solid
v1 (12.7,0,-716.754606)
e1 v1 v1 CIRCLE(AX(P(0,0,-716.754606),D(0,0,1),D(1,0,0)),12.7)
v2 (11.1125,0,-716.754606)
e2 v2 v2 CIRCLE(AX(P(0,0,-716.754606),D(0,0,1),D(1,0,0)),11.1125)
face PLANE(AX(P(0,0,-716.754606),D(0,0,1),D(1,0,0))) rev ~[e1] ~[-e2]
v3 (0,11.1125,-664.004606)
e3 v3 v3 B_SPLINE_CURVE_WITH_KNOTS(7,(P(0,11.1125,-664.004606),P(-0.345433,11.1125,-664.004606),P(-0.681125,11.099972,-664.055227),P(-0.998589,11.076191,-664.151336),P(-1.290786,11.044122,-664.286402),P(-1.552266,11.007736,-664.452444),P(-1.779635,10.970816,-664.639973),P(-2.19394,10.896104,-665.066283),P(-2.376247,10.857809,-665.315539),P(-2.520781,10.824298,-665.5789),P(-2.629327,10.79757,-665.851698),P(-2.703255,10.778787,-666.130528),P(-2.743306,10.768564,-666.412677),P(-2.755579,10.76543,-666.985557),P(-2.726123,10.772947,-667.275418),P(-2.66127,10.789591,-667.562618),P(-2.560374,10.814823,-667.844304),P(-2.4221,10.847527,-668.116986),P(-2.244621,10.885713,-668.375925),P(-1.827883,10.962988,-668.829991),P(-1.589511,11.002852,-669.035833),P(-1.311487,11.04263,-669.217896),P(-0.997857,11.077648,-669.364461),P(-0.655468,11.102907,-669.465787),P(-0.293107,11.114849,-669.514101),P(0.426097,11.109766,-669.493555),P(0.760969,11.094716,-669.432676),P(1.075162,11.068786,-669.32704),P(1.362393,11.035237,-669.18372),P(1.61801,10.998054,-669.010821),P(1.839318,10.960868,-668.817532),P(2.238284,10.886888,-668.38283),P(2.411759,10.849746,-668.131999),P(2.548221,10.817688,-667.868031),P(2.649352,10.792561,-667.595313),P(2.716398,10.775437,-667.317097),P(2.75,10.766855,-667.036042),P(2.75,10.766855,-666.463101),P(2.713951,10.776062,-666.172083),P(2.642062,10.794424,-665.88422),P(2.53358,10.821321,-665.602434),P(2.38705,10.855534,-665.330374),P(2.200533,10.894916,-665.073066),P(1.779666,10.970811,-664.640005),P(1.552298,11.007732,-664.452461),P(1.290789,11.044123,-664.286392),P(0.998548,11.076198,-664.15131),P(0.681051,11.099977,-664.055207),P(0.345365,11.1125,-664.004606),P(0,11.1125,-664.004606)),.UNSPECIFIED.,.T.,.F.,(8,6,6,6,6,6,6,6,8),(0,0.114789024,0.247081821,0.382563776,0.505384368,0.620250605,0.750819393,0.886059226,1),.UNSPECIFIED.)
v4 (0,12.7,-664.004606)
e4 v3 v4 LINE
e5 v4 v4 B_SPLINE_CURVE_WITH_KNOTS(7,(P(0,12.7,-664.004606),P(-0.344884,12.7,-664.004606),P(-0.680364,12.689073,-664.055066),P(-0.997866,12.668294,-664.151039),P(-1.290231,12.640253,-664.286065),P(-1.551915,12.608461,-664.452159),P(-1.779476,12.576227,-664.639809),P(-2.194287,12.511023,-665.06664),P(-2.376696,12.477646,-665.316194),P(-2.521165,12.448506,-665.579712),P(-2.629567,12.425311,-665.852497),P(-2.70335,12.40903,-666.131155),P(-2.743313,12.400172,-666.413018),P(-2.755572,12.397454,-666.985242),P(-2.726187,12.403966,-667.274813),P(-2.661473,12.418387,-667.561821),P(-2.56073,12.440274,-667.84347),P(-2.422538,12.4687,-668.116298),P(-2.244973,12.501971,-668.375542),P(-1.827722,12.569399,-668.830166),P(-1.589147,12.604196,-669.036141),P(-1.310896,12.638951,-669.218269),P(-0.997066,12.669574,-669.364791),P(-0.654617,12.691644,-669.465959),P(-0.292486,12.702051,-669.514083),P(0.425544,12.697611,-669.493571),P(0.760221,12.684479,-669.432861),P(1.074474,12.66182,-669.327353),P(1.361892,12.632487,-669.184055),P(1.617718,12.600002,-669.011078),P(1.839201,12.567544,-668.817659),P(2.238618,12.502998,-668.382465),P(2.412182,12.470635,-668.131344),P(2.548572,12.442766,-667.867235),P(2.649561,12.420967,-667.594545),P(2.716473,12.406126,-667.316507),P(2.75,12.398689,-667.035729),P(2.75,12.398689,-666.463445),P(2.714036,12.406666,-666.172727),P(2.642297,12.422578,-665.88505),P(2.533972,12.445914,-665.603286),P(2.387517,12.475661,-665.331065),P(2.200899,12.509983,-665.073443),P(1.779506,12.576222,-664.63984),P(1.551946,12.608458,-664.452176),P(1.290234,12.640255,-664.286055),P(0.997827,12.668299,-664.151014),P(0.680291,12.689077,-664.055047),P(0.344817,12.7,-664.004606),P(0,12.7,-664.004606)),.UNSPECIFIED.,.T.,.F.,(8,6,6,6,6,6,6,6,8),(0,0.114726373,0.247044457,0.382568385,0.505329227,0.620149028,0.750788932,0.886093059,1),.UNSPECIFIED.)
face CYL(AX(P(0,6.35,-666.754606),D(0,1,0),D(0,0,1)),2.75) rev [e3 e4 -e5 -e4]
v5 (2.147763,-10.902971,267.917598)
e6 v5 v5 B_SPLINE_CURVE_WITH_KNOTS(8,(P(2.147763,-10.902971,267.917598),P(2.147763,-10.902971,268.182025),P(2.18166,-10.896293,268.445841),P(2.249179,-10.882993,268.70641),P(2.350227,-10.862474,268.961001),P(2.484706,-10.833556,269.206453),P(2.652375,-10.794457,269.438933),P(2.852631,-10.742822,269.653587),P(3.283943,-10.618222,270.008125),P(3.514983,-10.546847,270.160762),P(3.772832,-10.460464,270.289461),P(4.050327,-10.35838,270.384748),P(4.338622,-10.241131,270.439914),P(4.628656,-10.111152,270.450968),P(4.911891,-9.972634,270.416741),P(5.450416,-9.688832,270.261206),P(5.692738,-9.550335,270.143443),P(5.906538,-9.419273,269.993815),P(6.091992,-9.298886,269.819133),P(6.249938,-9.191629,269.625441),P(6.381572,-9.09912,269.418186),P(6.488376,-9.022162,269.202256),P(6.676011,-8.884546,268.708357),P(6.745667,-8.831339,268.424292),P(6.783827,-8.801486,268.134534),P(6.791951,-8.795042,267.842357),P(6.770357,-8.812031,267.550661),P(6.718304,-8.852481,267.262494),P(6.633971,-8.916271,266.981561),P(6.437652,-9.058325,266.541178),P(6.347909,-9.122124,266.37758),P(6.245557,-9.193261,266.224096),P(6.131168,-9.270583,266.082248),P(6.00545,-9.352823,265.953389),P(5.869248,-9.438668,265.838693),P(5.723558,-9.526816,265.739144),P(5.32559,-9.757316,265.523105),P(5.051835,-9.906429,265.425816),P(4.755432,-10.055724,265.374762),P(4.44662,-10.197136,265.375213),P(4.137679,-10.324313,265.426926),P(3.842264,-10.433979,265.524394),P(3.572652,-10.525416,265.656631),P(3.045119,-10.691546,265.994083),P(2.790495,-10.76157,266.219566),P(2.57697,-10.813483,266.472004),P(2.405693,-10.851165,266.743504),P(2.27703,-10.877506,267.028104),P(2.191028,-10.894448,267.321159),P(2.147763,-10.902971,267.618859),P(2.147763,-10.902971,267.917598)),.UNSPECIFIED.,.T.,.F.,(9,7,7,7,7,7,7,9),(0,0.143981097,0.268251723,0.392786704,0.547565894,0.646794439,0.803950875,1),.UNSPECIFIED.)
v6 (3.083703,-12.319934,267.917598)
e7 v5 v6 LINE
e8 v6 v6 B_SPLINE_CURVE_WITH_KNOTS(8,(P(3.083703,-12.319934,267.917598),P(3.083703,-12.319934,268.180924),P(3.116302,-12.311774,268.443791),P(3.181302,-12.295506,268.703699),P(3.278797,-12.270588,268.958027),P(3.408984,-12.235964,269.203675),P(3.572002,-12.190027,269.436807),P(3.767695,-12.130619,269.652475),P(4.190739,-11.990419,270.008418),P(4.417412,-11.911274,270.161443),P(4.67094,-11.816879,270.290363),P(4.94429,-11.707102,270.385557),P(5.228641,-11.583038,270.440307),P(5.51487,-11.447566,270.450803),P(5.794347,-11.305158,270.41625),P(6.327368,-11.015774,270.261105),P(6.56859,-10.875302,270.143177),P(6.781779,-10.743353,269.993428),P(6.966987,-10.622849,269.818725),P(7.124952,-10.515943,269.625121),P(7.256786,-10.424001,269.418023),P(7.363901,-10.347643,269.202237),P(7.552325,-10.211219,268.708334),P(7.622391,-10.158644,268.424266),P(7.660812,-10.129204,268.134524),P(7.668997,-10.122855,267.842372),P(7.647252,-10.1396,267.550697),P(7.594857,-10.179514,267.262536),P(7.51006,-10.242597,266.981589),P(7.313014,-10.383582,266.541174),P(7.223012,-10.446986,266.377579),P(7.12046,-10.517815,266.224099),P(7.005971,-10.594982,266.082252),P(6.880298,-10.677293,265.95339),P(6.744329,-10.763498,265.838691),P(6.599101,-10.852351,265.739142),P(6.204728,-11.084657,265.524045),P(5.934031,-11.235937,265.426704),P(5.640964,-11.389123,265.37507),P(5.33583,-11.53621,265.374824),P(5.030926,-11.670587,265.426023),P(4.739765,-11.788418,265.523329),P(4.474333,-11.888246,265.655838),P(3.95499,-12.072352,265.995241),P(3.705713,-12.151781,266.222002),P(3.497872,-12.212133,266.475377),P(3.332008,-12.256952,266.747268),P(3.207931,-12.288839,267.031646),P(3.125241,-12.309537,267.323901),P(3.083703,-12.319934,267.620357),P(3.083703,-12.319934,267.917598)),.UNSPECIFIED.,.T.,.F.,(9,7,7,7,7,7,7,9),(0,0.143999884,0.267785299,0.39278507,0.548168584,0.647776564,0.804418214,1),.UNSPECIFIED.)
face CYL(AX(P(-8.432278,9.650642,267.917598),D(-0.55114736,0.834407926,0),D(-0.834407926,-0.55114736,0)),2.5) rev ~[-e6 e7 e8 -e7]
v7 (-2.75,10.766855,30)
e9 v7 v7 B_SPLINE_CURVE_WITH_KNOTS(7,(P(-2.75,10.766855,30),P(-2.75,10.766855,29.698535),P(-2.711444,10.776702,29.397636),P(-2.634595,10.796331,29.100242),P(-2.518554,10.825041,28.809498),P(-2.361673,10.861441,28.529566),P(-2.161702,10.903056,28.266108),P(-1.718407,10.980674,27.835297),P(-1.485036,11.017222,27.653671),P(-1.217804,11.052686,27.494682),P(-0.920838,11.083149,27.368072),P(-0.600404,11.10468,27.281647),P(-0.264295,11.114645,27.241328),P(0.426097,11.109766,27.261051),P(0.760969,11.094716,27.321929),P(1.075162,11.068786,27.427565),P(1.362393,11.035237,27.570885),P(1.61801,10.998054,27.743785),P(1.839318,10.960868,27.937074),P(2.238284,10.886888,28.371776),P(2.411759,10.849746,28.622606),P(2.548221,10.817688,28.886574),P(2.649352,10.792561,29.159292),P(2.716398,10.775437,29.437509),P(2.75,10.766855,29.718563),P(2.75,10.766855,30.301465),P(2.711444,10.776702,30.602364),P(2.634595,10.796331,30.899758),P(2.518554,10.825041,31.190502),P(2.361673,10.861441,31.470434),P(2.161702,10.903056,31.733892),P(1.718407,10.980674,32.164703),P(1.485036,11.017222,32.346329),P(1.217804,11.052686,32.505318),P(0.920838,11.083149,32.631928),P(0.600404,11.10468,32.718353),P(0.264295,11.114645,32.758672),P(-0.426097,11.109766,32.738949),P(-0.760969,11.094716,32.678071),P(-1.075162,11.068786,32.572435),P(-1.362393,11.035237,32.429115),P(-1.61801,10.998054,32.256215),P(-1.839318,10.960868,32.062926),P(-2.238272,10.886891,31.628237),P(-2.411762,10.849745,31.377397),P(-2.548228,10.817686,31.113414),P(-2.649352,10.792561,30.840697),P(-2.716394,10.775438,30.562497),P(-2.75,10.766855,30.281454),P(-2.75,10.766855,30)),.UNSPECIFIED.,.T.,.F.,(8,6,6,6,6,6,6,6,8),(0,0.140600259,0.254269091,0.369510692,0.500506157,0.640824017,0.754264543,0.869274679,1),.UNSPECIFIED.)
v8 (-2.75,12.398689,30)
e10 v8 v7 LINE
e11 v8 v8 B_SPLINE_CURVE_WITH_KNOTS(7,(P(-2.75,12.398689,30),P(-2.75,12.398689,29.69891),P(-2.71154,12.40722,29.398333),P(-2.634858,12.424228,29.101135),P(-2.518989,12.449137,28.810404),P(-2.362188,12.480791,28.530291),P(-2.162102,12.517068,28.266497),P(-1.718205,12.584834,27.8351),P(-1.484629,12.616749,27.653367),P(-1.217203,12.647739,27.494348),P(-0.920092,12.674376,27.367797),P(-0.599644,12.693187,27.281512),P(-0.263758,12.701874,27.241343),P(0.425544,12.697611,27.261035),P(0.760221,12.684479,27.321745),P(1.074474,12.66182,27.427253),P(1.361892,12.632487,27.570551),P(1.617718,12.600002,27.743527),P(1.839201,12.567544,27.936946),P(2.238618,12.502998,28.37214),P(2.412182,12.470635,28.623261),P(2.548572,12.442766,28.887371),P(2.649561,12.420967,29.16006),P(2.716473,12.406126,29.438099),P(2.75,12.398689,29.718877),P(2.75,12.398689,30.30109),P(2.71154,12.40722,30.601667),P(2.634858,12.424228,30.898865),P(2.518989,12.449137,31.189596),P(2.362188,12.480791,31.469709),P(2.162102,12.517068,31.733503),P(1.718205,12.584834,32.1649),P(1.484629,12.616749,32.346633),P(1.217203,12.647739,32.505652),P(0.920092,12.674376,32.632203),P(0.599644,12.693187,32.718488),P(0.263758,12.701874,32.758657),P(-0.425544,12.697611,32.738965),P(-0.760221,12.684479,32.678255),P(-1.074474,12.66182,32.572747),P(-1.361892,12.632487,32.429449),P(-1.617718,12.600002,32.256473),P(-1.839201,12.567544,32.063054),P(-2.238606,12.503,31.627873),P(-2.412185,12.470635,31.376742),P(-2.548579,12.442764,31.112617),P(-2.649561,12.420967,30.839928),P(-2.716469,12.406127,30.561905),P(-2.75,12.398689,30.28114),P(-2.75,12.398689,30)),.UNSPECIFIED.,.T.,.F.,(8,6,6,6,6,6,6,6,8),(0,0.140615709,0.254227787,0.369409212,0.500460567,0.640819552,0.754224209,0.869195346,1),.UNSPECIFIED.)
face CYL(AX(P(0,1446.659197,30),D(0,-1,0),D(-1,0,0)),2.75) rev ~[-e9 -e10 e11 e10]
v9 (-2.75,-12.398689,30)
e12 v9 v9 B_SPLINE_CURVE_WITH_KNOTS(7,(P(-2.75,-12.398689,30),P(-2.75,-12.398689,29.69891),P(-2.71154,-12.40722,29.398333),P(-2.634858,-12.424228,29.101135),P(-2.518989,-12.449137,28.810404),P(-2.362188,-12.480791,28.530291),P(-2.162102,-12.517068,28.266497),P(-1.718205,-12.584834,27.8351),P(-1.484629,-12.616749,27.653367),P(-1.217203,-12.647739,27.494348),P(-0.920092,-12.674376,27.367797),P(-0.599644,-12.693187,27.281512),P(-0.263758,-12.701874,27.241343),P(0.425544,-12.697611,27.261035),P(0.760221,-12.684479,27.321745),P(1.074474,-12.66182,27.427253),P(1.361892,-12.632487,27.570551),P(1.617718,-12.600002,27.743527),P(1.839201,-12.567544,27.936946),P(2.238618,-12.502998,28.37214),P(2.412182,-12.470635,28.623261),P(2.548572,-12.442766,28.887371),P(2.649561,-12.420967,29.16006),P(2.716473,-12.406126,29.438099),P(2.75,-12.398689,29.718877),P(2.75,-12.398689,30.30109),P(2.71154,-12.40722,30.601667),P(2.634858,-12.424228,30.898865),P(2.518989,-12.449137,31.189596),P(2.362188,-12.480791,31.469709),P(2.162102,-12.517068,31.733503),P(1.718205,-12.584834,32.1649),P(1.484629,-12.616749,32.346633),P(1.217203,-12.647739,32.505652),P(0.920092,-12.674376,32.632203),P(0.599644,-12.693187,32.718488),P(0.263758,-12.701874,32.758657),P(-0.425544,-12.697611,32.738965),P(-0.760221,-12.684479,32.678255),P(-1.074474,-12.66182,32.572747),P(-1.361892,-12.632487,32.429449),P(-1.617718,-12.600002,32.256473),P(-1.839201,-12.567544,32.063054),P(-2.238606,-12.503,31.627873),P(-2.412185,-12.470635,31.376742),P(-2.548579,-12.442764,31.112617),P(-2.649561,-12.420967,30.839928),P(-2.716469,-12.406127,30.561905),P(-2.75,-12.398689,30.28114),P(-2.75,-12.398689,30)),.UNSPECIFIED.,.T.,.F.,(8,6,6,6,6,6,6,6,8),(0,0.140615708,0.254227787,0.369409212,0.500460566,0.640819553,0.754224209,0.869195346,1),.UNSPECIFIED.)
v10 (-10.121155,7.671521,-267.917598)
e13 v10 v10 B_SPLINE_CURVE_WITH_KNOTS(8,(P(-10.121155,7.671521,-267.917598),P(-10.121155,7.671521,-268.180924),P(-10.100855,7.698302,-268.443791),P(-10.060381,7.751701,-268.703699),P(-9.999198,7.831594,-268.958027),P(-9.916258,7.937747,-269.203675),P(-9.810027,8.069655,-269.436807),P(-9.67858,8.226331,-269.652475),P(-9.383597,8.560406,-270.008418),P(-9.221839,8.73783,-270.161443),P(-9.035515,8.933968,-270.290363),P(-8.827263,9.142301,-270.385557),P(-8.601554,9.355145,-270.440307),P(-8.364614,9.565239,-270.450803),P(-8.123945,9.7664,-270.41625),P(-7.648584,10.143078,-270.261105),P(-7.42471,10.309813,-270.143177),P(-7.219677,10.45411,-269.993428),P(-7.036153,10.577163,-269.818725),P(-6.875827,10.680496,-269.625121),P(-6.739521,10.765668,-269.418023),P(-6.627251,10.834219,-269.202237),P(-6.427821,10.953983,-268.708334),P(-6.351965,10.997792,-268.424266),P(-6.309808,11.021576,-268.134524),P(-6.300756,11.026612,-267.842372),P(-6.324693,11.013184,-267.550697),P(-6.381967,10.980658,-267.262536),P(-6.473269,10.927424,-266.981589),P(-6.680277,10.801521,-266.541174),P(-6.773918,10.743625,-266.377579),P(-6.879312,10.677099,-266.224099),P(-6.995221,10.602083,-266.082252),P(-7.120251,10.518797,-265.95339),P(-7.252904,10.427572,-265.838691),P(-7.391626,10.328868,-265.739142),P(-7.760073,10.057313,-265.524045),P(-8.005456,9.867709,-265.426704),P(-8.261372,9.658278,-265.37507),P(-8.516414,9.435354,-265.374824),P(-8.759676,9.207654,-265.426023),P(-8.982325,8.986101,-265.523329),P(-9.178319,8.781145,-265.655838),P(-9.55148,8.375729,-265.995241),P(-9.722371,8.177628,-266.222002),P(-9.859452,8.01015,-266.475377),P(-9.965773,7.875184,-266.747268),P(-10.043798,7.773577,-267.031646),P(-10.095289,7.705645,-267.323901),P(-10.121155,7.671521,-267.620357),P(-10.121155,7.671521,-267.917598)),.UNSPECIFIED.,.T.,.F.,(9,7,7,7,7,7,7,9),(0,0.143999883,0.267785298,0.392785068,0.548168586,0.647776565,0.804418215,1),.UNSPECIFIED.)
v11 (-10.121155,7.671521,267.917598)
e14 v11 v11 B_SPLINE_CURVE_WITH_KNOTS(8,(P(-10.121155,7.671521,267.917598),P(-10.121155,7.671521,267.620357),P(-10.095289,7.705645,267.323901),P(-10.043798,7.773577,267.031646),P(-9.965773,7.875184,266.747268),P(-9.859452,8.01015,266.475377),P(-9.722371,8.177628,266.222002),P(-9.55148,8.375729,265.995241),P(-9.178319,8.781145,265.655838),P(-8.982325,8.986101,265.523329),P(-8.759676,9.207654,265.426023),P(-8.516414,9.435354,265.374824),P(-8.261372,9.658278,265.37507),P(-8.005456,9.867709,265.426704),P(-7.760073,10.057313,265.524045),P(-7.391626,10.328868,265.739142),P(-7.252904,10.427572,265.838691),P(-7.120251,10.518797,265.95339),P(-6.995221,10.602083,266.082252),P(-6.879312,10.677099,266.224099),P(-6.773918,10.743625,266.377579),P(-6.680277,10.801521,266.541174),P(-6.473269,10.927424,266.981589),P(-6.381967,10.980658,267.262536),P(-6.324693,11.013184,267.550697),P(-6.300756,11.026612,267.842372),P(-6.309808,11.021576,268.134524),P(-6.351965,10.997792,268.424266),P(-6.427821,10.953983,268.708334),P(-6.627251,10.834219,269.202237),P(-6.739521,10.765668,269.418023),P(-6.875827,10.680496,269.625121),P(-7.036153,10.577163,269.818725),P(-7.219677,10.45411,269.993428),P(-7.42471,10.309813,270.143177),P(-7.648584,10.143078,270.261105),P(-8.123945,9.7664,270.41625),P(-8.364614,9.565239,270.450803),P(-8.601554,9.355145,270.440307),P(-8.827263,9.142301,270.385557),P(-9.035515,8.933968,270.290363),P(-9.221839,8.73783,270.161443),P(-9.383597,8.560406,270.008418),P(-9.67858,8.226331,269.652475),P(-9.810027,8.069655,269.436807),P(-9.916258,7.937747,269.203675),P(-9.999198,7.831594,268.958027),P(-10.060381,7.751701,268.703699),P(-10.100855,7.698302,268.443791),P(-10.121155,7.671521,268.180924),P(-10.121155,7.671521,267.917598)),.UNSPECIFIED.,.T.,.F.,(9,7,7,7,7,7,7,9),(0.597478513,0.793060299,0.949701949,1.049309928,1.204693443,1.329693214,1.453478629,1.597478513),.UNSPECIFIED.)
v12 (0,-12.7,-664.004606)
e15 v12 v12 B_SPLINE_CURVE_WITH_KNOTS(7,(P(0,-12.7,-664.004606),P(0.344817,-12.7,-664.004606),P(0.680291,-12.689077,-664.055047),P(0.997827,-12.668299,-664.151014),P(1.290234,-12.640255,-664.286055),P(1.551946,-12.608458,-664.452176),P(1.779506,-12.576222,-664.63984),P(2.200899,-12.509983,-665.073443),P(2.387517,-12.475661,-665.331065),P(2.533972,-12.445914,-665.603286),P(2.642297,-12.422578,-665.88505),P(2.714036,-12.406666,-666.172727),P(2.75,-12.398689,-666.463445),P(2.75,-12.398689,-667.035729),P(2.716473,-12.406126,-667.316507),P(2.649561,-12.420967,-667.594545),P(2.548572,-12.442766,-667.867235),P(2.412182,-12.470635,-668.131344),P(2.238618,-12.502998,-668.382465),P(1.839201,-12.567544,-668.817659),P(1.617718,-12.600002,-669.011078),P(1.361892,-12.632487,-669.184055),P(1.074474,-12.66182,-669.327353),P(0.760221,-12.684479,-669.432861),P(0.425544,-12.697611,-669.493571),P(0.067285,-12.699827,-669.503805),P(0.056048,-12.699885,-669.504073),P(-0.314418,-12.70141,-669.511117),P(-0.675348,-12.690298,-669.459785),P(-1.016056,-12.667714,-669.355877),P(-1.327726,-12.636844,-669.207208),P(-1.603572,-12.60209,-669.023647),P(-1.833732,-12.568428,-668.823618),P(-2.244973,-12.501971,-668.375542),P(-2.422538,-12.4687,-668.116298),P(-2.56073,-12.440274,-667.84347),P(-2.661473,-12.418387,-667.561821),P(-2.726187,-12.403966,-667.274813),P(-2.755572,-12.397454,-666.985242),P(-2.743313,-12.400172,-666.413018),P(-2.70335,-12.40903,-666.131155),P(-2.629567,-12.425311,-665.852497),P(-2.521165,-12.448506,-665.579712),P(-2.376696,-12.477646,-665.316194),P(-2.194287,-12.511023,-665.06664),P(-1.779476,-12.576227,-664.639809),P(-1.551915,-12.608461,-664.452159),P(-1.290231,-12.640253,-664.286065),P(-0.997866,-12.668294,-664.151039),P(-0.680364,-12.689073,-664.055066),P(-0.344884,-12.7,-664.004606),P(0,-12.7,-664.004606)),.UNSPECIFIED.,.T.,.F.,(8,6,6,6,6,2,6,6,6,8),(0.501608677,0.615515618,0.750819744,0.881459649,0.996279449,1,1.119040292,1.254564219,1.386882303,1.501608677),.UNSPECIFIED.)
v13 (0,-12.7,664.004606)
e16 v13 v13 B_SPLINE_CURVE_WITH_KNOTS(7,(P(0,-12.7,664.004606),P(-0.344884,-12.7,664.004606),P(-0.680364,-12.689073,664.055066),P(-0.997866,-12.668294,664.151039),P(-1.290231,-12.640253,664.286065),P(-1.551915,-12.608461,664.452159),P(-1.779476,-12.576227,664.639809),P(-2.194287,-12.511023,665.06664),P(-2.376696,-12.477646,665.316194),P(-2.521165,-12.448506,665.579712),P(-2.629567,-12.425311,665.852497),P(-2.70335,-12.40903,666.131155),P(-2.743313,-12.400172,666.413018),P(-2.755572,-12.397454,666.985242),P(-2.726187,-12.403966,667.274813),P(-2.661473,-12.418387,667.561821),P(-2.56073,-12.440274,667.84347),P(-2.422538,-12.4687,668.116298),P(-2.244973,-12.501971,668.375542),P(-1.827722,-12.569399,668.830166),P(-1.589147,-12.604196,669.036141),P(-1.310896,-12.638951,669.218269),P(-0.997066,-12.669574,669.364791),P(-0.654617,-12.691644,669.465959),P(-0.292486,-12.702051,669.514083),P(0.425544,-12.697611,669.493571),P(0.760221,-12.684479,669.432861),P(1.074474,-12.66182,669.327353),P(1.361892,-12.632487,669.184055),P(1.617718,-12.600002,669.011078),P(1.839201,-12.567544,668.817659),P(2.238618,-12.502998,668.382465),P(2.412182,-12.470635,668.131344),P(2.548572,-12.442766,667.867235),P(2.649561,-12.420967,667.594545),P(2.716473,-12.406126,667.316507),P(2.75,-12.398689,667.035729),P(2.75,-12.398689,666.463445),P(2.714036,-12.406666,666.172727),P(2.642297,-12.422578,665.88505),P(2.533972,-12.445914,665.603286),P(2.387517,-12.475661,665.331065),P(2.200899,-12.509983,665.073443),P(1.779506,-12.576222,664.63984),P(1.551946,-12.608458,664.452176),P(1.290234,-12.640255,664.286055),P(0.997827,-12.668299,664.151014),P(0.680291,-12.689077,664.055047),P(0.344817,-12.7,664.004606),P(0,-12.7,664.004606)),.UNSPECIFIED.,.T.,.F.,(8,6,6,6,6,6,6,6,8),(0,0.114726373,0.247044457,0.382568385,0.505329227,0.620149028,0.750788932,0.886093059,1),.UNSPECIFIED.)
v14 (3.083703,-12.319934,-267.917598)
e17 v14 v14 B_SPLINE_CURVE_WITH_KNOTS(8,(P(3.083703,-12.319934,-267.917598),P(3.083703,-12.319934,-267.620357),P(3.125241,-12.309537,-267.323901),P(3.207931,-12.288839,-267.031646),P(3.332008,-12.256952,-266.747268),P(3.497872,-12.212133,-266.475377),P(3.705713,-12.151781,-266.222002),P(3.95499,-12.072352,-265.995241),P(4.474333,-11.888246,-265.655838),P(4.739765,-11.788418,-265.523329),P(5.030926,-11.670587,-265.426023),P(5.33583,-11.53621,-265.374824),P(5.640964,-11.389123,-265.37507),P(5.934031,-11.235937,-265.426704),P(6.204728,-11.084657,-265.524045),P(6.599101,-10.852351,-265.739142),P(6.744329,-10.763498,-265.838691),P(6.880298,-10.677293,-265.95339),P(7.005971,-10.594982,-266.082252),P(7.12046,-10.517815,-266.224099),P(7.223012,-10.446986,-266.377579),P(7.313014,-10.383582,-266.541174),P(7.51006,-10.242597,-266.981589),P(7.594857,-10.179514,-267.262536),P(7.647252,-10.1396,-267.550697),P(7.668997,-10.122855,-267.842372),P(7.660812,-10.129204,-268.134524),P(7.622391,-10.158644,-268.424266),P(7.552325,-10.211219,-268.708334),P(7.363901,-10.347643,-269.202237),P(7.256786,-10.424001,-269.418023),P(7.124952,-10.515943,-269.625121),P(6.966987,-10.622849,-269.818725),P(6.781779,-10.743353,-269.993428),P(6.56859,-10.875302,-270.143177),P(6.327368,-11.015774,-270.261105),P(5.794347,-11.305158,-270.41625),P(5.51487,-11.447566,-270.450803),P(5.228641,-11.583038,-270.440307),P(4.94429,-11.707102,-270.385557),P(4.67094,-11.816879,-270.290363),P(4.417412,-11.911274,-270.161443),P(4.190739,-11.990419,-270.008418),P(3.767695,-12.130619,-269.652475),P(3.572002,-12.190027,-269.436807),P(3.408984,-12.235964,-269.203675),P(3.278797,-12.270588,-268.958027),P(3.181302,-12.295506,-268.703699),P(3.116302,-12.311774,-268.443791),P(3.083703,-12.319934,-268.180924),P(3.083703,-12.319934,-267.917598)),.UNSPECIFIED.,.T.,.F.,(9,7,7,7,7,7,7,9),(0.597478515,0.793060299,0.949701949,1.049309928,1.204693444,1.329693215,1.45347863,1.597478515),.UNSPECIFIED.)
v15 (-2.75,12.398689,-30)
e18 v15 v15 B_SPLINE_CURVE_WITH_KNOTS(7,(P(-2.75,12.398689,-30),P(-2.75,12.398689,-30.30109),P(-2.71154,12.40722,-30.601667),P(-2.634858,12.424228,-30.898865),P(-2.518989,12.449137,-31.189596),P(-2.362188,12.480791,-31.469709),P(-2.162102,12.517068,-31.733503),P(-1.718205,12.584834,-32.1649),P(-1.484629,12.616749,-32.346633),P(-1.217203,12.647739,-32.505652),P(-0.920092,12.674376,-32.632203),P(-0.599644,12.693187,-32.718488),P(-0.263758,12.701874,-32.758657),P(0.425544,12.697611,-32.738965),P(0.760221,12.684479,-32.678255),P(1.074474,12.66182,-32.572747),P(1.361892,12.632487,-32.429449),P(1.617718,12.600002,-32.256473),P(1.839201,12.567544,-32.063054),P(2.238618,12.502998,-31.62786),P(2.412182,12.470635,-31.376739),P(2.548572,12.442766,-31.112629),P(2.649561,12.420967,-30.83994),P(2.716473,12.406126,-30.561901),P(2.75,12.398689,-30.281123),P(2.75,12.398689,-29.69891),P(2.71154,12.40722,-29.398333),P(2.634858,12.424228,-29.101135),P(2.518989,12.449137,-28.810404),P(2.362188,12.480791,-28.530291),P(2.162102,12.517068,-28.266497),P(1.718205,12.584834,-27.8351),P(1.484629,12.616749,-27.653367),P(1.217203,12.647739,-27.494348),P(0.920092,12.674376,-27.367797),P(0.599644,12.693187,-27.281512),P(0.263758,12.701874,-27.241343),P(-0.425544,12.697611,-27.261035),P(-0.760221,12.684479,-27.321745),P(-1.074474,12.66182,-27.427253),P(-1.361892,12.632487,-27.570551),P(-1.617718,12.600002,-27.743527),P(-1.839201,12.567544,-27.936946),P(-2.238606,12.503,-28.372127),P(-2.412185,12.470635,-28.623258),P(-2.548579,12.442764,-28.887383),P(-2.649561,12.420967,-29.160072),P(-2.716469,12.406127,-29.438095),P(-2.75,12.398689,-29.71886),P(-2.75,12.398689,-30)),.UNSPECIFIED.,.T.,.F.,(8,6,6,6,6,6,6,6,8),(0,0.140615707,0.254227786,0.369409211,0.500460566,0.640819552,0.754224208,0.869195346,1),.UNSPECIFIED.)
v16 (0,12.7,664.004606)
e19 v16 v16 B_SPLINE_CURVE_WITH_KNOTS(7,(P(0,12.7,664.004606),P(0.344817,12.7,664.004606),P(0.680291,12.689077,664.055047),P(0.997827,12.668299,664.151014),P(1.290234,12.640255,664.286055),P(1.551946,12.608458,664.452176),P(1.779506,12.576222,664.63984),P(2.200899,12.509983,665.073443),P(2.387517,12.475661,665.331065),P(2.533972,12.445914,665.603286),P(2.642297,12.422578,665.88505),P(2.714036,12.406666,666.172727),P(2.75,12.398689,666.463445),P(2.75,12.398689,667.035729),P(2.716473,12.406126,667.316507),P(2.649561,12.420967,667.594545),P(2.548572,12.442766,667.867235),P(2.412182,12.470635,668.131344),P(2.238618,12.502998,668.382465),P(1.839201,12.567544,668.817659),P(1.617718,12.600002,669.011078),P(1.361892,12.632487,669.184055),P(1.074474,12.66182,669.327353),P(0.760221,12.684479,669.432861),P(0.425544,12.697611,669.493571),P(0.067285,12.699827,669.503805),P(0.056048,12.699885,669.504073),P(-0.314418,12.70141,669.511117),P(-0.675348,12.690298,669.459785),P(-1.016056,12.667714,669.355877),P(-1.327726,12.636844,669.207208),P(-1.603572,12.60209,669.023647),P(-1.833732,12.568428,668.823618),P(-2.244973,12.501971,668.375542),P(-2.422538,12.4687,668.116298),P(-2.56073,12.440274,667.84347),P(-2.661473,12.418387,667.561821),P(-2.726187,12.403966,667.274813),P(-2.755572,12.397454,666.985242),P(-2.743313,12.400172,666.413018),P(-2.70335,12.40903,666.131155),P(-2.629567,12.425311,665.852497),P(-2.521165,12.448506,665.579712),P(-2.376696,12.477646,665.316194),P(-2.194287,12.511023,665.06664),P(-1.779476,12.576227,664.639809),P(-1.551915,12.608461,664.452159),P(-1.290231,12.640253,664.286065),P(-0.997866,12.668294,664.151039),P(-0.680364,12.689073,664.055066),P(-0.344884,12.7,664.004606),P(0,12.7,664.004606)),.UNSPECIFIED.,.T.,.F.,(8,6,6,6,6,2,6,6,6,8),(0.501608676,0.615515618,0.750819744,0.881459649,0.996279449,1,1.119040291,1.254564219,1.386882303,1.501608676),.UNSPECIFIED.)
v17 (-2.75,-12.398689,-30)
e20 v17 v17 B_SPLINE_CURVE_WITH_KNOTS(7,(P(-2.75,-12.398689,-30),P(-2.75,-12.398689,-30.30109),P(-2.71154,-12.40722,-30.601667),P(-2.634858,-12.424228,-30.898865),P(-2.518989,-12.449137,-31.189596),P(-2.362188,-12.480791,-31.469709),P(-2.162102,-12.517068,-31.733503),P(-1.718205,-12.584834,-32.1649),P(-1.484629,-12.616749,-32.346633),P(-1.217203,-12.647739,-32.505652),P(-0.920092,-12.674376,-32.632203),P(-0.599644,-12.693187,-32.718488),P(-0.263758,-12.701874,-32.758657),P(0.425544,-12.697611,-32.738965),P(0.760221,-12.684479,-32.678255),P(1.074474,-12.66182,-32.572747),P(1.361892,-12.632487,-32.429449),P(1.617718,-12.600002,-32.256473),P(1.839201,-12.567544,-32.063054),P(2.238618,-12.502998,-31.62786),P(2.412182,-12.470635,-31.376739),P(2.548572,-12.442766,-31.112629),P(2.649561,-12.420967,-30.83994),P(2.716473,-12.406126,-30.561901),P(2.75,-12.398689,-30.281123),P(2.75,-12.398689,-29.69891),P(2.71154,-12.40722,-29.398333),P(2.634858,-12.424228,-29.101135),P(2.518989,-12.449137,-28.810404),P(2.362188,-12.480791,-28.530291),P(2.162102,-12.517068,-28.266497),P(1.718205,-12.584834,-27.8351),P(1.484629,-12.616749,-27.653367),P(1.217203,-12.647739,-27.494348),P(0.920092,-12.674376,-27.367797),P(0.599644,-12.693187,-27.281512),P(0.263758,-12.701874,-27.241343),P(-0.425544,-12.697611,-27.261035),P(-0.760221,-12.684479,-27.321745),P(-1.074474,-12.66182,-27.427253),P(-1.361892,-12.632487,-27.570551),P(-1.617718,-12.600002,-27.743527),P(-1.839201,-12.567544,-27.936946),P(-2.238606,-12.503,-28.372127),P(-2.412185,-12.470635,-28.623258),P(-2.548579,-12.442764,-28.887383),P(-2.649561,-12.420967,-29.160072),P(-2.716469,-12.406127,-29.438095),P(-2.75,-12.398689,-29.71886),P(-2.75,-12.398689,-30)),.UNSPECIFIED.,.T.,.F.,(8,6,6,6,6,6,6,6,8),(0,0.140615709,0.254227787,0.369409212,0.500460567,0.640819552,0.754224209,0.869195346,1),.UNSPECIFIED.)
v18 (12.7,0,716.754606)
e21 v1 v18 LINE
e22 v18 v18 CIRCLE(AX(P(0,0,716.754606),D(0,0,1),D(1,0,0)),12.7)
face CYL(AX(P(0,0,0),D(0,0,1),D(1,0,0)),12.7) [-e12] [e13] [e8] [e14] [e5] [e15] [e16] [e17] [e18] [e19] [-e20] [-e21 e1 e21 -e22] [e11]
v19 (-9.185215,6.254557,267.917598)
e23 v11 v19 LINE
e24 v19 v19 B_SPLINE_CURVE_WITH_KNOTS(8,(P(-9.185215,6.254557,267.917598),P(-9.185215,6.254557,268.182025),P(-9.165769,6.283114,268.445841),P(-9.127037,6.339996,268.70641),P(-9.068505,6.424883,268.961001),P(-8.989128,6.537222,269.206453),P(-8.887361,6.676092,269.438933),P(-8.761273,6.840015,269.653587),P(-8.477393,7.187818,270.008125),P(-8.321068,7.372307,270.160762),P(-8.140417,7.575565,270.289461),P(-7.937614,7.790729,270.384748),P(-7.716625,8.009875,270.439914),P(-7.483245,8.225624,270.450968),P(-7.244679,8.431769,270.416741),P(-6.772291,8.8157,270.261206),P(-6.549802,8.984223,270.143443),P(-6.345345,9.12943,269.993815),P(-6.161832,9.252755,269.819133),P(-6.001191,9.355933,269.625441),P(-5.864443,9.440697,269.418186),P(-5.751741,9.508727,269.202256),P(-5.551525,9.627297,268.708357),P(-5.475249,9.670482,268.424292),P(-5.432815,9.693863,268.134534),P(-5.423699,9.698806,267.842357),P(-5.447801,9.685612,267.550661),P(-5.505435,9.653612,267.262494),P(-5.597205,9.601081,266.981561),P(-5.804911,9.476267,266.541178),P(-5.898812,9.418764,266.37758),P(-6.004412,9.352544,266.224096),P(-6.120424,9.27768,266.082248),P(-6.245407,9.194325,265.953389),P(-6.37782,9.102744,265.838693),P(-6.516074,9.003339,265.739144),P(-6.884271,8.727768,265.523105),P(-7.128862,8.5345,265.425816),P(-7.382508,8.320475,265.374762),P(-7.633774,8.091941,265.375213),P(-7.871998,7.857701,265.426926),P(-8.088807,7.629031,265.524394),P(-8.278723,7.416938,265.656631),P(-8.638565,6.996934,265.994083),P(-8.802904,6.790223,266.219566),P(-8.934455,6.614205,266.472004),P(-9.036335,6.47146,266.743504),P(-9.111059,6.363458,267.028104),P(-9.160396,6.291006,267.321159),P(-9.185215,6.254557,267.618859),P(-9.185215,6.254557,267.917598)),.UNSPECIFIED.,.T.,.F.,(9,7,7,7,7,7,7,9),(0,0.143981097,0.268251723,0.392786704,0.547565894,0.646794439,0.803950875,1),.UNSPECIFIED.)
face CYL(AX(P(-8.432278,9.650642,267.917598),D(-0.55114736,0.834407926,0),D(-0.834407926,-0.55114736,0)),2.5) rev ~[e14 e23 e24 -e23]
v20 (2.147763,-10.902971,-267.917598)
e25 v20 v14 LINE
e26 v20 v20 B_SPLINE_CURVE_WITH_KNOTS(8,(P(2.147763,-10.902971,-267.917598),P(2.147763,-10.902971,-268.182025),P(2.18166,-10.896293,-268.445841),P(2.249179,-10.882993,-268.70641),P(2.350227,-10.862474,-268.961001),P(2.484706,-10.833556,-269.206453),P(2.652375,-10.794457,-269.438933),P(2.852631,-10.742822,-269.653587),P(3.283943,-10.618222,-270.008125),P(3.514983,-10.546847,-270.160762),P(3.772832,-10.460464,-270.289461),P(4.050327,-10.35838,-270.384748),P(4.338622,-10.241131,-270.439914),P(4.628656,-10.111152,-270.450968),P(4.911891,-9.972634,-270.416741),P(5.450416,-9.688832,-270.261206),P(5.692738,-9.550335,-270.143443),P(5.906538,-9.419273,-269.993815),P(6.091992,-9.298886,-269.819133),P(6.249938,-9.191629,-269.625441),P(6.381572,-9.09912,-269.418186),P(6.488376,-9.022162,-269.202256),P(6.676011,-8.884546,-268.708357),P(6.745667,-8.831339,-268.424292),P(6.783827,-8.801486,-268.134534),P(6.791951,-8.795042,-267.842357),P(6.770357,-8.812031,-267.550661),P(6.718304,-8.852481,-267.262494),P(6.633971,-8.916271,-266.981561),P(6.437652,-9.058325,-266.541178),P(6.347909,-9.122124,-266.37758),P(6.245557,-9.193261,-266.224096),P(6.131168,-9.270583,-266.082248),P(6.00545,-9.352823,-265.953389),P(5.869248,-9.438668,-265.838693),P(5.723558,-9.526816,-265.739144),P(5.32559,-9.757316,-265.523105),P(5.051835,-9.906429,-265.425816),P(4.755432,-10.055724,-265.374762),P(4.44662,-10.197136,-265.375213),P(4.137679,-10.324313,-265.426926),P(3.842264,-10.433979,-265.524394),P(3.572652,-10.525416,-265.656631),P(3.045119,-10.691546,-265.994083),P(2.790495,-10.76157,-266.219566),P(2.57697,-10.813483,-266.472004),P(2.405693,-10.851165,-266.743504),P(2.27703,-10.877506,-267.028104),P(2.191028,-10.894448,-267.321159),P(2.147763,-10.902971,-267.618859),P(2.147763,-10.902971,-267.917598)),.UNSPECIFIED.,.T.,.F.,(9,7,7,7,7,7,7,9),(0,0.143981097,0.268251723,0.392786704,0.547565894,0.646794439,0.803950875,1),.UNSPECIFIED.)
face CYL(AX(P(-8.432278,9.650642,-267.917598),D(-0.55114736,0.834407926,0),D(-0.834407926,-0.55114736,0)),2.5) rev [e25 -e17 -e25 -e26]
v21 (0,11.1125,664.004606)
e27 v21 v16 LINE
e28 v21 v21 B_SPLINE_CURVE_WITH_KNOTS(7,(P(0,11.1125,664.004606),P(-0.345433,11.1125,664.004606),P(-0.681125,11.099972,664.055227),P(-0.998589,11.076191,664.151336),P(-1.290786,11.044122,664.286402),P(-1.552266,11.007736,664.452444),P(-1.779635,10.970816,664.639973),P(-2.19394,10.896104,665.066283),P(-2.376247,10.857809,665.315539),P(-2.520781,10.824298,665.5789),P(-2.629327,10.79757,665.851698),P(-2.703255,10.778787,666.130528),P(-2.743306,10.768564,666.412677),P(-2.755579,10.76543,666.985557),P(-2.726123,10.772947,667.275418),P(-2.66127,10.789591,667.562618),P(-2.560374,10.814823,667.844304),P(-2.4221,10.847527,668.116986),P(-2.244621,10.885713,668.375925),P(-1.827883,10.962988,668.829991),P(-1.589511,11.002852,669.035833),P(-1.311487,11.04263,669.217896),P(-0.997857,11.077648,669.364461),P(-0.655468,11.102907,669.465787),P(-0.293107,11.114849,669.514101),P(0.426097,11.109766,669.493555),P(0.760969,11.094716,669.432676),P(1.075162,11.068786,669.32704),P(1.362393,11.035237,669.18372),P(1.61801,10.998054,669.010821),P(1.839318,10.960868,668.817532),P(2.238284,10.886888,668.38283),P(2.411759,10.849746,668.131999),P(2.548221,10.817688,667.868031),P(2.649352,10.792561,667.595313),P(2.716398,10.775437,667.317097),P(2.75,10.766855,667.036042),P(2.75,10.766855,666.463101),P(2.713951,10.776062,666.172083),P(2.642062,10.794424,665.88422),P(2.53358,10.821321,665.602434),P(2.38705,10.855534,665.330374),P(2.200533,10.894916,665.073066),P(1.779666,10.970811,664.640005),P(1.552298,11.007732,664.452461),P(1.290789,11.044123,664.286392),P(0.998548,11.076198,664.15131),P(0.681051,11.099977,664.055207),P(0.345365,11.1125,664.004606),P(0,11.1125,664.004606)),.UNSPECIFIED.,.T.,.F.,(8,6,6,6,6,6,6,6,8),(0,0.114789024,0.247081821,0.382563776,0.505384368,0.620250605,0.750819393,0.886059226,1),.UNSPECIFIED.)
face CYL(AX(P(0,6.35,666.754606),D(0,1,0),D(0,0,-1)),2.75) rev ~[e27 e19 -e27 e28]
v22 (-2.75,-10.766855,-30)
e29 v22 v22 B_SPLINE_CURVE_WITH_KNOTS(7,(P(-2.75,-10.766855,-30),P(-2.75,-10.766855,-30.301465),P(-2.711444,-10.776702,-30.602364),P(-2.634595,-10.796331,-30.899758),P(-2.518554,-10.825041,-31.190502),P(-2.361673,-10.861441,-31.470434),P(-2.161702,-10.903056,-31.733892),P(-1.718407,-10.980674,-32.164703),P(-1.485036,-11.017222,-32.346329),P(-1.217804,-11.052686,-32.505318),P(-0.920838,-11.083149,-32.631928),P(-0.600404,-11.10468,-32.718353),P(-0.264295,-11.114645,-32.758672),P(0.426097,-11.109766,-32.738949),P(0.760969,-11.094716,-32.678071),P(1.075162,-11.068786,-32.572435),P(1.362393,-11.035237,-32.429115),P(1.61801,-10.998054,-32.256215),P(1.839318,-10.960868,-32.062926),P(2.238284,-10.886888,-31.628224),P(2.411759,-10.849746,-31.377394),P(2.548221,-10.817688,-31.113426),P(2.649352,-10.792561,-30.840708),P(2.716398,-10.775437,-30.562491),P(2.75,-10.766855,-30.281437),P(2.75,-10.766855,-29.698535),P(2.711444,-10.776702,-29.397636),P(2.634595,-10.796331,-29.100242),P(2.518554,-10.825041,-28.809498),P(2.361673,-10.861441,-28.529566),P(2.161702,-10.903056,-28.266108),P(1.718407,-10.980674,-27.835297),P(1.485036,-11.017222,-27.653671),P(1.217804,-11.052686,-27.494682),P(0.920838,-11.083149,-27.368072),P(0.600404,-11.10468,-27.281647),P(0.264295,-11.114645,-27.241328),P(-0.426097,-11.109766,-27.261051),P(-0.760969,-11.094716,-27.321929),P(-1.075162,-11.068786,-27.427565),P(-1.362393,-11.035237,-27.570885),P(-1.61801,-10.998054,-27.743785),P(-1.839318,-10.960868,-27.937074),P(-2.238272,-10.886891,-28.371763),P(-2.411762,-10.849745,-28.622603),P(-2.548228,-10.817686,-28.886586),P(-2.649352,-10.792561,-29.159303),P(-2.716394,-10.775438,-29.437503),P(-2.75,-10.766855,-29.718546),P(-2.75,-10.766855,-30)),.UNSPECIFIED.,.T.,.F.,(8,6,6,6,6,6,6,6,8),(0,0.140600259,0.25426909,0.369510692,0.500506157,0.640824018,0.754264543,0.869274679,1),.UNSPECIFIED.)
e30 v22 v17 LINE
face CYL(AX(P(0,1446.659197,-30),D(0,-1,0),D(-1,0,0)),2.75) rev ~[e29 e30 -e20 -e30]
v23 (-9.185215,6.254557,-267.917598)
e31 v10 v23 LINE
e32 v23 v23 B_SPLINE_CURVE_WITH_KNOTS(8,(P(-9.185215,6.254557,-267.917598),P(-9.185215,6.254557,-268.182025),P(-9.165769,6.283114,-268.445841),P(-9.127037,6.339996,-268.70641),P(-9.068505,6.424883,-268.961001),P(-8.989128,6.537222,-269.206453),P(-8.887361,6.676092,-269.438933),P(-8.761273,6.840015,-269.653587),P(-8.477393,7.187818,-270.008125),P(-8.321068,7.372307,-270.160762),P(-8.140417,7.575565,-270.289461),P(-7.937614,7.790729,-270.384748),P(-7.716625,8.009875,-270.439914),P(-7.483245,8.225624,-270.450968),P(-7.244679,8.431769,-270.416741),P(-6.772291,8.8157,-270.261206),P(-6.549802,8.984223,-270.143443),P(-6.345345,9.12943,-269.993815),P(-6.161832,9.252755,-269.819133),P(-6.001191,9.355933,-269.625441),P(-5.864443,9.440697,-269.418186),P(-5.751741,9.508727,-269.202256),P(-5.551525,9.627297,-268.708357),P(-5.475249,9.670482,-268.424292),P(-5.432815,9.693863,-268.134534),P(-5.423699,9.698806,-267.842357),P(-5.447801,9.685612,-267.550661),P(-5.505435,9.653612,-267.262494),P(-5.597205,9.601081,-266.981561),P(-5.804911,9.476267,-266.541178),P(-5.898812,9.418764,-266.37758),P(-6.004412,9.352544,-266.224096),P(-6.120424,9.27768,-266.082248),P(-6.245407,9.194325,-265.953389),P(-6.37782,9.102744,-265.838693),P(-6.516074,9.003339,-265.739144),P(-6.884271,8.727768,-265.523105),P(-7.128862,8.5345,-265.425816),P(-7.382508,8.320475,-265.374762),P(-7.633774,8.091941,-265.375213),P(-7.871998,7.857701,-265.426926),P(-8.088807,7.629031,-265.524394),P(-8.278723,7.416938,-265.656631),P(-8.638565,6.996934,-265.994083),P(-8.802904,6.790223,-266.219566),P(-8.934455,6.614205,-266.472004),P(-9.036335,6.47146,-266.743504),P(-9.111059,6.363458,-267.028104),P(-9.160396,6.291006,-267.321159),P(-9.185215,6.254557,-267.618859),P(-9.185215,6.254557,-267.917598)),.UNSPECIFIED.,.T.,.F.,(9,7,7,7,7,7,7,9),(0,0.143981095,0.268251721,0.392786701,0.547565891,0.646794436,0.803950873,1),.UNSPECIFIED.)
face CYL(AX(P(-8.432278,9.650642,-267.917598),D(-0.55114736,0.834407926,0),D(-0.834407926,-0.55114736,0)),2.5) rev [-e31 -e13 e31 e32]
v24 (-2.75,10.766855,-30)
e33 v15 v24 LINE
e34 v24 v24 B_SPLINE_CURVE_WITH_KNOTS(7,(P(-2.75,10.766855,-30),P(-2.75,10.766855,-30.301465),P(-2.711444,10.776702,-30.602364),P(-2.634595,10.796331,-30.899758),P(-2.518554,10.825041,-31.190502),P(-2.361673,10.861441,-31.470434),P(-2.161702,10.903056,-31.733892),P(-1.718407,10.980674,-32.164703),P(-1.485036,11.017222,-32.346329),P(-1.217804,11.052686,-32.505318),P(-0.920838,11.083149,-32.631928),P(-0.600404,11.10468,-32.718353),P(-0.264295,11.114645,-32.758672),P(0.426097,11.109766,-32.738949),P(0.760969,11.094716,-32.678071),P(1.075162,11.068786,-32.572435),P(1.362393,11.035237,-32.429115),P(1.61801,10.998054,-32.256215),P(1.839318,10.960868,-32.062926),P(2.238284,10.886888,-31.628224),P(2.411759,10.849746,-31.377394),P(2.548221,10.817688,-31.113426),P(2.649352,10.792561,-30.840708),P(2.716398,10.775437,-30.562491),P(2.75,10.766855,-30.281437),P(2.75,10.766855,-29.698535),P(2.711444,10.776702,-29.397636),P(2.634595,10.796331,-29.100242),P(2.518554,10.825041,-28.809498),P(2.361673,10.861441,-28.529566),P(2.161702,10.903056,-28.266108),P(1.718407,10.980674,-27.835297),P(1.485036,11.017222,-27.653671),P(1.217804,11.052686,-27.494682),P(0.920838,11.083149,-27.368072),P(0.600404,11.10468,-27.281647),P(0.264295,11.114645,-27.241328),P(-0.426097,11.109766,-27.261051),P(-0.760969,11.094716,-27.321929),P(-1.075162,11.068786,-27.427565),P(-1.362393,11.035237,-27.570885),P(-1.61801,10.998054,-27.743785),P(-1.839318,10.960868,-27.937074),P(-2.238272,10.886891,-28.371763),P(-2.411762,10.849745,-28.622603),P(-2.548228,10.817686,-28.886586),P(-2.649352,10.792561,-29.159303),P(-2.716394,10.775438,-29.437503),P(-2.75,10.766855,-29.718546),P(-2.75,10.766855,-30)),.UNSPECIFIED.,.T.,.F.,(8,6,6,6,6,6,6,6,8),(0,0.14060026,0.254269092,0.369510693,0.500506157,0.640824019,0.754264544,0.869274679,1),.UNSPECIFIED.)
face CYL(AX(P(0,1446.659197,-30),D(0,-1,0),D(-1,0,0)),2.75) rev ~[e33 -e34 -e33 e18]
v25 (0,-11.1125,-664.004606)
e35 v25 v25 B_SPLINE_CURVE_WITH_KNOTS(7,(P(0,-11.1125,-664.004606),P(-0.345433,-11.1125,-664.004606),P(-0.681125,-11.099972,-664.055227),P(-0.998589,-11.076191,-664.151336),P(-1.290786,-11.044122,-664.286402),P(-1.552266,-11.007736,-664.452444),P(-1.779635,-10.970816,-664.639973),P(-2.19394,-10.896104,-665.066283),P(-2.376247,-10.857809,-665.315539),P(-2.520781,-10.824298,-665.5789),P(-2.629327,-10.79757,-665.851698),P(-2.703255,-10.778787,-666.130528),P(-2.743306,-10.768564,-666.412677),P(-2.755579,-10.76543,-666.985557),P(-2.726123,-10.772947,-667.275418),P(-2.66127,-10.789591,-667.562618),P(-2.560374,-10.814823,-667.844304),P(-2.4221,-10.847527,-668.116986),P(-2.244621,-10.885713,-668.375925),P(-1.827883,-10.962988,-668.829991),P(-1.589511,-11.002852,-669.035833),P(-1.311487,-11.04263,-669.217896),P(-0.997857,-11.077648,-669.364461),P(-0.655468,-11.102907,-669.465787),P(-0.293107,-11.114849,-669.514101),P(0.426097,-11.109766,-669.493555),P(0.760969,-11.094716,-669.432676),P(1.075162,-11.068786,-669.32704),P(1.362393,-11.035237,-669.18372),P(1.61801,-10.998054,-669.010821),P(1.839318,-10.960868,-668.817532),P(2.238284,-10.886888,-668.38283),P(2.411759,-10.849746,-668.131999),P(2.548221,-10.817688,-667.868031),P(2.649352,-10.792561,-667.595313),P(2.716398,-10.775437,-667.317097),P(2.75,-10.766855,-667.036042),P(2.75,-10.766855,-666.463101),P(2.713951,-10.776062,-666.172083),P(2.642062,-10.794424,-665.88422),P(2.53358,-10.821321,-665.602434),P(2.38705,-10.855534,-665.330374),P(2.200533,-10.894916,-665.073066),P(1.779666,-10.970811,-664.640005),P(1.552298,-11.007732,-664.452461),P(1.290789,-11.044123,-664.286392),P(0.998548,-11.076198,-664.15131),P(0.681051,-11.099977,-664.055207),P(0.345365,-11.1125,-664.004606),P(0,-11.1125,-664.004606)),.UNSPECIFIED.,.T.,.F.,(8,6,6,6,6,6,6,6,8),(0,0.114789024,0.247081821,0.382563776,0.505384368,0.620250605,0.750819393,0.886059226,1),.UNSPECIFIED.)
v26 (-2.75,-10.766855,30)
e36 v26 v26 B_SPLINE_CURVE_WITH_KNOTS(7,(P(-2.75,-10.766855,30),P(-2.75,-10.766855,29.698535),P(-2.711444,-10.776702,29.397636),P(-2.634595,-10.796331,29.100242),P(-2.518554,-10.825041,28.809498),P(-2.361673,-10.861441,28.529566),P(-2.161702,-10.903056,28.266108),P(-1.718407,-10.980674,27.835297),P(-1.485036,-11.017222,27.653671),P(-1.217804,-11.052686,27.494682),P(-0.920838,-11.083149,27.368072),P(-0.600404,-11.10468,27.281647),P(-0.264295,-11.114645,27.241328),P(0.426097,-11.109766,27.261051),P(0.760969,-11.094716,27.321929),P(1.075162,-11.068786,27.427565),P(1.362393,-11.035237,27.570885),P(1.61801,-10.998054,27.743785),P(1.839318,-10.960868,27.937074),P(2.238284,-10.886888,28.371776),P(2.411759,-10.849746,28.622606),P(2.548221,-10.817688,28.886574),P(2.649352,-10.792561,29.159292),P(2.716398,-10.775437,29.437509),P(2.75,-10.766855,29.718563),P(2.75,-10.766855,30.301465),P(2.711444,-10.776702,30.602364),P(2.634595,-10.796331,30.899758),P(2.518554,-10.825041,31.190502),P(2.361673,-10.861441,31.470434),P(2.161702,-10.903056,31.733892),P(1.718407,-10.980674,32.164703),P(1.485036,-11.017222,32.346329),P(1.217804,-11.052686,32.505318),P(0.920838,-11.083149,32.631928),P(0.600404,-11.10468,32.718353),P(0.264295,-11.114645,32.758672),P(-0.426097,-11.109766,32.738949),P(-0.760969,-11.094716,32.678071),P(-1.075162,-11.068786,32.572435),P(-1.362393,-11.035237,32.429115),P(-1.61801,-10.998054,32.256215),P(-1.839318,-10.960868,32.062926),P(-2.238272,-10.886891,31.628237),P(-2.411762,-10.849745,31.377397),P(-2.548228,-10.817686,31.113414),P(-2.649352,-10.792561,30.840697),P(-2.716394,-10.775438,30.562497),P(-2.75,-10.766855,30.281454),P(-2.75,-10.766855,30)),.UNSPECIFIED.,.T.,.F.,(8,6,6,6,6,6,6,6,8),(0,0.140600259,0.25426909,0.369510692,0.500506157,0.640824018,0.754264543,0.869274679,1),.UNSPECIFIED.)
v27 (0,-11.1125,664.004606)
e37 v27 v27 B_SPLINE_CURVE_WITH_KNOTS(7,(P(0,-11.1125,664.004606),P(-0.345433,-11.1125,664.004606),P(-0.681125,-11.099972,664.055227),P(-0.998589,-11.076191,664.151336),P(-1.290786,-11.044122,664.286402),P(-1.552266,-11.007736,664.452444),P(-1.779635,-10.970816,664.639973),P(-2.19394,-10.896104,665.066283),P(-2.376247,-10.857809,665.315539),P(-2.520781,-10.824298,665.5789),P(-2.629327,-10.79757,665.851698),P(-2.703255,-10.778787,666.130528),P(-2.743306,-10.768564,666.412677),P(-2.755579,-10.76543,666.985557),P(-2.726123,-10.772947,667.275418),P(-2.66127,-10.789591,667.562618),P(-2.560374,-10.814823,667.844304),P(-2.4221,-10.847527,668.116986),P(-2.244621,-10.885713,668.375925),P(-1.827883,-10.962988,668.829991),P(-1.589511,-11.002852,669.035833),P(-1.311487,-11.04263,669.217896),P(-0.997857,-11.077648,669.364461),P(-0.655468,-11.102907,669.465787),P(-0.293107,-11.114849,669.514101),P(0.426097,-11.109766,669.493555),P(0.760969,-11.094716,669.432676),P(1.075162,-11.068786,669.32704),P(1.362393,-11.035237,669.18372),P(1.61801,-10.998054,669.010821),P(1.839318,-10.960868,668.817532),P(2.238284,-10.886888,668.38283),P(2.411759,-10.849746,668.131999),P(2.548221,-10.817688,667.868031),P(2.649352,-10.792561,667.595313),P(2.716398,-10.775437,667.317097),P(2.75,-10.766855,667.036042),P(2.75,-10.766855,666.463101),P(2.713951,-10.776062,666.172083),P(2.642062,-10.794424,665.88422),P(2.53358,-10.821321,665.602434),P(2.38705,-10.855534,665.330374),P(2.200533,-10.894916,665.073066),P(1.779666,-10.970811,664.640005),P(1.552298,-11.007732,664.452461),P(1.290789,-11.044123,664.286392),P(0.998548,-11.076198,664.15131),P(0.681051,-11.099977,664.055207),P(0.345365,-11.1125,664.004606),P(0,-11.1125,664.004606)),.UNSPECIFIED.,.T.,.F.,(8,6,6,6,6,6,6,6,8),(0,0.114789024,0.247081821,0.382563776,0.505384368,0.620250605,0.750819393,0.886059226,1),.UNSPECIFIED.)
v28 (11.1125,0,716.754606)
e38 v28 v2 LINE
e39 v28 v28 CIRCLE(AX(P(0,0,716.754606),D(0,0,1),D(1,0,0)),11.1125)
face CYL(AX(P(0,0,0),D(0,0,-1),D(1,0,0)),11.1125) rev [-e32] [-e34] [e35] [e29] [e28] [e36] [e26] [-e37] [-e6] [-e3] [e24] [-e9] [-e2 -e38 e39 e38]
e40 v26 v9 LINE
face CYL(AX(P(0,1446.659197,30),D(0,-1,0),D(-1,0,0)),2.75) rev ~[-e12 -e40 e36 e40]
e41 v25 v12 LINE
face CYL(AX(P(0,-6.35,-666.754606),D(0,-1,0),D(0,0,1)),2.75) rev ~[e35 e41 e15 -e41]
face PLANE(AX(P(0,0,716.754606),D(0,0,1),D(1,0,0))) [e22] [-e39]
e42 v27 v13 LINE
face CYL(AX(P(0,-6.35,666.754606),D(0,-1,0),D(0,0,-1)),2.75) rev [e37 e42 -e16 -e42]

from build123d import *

# Parameters (mm, degrees)
SKETCH1_R                                  = 12.7
SKETCH1_R_2                                = 11.1125
BOSS_EXTRUDE1_DEPTH                        = 716.7546056
M5_CLEARANCE_HOLE1_D                       = 5.5
SKETCH7_W                                  = 2.75
SKETCH7_H                                  = 12.7
MIRROR1_AT_THE_SECOND_PLANE_COPY_1_SKETC_W = 2.75
MIRROR1_AT_THE_SECOND_PLANE_COPY_1_SKETC_H = 12.7
CUT_EXTRUDE1_START                         = -12.7
SKETCH8_R                                  = 2.5
CUT_EXTRUDE1_DEPTH                         = 25.4


with BuildPart() as part:
    # Sketch1 → Boss-Extrude1 (new body, symmetric)
    with BuildSketch(Plane.XY):
        Circle(SKETCH1_R)
        Circle(SKETCH1_R_2, mode=Mode.SUBTRACT)
    extrude(amount=BOSS_EXTRUDE1_DEPTH, both=True)

    # M5 Clearance Hole1 (through all)
    with Locations(Plane(origin=(0, 12.7, 0), x_dir=(1, 0, 0), z_dir=(0, 1, 0))):
        with Locations((0, 30), (0, -30)):
            Hole(M5_CLEARANCE_HOLE1_D / 2)

    # Sketch7 → M5 Clearance Hole2 (revolve, cut)
    with BuildSketch(Plane(origin=(0, 0, 666.7546056), x_dir=(0, 0, -1), z_dir=(1, 0, 0))):
        with Locations((1.375, 6.35)):
            Rectangle(SKETCH7_W, SKETCH7_H)
    m5_clearance_hole2 = revolve(axis=Axis((0, -6.35, 666.7546056), (0, 1, 0)), mode=Mode.SUBTRACT)

    # Mirror1: M5 Clearance Hole2 across plane
    add(m5_clearance_hole2.mirror(Plane.ZX), mode=Mode.SUBTRACT)

    # Mirror1 at the second plane: M5 Clearance Hole2 across plane
    add(m5_clearance_hole2.mirror(Plane.XY), mode=Mode.SUBTRACT)

    # Mirror1 at the second plane copy 1 sketc → Mirror1 at the second plane copy 1 (revolve, cut)
    with BuildSketch(Plane(origin=(0, 0, -666.7546056), x_dir=(0, 0, 1), z_dir=(1, 0, 0))):
        with Locations((1.375, 6.35)):
            Rectangle(MIRROR1_AT_THE_SECOND_PLANE_COPY_1_SKETC_W, MIRROR1_AT_THE_SECOND_PLANE_COPY_1_SKETC_H)
    revolve(axis=Axis((0, 6.35, -666.7546056), (0, -1, 0)), mode=Mode.SUBTRACT)

    # Sketch8 → Cut-Extrude1 (cut)
    with BuildSketch(Plane(origin=(0, 0, 0), x_dir=(-0.834407926, -0.55114736, 0), z_dir=(0.55114736, -0.834407926, 0)).offset(CUT_EXTRUDE1_START)):
        with Locations((1.717033262, 267.917598195)):
            Circle(SKETCH8_R)
    cut_extrude1 = extrude(amount=CUT_EXTRUDE1_DEPTH, mode=Mode.SUBTRACT)

    # Mirror2: Cut-Extrude1 across plane
    add(cut_extrude1.mirror(Plane.XY), mode=Mode.SUBTRACT)


solid = part.part
